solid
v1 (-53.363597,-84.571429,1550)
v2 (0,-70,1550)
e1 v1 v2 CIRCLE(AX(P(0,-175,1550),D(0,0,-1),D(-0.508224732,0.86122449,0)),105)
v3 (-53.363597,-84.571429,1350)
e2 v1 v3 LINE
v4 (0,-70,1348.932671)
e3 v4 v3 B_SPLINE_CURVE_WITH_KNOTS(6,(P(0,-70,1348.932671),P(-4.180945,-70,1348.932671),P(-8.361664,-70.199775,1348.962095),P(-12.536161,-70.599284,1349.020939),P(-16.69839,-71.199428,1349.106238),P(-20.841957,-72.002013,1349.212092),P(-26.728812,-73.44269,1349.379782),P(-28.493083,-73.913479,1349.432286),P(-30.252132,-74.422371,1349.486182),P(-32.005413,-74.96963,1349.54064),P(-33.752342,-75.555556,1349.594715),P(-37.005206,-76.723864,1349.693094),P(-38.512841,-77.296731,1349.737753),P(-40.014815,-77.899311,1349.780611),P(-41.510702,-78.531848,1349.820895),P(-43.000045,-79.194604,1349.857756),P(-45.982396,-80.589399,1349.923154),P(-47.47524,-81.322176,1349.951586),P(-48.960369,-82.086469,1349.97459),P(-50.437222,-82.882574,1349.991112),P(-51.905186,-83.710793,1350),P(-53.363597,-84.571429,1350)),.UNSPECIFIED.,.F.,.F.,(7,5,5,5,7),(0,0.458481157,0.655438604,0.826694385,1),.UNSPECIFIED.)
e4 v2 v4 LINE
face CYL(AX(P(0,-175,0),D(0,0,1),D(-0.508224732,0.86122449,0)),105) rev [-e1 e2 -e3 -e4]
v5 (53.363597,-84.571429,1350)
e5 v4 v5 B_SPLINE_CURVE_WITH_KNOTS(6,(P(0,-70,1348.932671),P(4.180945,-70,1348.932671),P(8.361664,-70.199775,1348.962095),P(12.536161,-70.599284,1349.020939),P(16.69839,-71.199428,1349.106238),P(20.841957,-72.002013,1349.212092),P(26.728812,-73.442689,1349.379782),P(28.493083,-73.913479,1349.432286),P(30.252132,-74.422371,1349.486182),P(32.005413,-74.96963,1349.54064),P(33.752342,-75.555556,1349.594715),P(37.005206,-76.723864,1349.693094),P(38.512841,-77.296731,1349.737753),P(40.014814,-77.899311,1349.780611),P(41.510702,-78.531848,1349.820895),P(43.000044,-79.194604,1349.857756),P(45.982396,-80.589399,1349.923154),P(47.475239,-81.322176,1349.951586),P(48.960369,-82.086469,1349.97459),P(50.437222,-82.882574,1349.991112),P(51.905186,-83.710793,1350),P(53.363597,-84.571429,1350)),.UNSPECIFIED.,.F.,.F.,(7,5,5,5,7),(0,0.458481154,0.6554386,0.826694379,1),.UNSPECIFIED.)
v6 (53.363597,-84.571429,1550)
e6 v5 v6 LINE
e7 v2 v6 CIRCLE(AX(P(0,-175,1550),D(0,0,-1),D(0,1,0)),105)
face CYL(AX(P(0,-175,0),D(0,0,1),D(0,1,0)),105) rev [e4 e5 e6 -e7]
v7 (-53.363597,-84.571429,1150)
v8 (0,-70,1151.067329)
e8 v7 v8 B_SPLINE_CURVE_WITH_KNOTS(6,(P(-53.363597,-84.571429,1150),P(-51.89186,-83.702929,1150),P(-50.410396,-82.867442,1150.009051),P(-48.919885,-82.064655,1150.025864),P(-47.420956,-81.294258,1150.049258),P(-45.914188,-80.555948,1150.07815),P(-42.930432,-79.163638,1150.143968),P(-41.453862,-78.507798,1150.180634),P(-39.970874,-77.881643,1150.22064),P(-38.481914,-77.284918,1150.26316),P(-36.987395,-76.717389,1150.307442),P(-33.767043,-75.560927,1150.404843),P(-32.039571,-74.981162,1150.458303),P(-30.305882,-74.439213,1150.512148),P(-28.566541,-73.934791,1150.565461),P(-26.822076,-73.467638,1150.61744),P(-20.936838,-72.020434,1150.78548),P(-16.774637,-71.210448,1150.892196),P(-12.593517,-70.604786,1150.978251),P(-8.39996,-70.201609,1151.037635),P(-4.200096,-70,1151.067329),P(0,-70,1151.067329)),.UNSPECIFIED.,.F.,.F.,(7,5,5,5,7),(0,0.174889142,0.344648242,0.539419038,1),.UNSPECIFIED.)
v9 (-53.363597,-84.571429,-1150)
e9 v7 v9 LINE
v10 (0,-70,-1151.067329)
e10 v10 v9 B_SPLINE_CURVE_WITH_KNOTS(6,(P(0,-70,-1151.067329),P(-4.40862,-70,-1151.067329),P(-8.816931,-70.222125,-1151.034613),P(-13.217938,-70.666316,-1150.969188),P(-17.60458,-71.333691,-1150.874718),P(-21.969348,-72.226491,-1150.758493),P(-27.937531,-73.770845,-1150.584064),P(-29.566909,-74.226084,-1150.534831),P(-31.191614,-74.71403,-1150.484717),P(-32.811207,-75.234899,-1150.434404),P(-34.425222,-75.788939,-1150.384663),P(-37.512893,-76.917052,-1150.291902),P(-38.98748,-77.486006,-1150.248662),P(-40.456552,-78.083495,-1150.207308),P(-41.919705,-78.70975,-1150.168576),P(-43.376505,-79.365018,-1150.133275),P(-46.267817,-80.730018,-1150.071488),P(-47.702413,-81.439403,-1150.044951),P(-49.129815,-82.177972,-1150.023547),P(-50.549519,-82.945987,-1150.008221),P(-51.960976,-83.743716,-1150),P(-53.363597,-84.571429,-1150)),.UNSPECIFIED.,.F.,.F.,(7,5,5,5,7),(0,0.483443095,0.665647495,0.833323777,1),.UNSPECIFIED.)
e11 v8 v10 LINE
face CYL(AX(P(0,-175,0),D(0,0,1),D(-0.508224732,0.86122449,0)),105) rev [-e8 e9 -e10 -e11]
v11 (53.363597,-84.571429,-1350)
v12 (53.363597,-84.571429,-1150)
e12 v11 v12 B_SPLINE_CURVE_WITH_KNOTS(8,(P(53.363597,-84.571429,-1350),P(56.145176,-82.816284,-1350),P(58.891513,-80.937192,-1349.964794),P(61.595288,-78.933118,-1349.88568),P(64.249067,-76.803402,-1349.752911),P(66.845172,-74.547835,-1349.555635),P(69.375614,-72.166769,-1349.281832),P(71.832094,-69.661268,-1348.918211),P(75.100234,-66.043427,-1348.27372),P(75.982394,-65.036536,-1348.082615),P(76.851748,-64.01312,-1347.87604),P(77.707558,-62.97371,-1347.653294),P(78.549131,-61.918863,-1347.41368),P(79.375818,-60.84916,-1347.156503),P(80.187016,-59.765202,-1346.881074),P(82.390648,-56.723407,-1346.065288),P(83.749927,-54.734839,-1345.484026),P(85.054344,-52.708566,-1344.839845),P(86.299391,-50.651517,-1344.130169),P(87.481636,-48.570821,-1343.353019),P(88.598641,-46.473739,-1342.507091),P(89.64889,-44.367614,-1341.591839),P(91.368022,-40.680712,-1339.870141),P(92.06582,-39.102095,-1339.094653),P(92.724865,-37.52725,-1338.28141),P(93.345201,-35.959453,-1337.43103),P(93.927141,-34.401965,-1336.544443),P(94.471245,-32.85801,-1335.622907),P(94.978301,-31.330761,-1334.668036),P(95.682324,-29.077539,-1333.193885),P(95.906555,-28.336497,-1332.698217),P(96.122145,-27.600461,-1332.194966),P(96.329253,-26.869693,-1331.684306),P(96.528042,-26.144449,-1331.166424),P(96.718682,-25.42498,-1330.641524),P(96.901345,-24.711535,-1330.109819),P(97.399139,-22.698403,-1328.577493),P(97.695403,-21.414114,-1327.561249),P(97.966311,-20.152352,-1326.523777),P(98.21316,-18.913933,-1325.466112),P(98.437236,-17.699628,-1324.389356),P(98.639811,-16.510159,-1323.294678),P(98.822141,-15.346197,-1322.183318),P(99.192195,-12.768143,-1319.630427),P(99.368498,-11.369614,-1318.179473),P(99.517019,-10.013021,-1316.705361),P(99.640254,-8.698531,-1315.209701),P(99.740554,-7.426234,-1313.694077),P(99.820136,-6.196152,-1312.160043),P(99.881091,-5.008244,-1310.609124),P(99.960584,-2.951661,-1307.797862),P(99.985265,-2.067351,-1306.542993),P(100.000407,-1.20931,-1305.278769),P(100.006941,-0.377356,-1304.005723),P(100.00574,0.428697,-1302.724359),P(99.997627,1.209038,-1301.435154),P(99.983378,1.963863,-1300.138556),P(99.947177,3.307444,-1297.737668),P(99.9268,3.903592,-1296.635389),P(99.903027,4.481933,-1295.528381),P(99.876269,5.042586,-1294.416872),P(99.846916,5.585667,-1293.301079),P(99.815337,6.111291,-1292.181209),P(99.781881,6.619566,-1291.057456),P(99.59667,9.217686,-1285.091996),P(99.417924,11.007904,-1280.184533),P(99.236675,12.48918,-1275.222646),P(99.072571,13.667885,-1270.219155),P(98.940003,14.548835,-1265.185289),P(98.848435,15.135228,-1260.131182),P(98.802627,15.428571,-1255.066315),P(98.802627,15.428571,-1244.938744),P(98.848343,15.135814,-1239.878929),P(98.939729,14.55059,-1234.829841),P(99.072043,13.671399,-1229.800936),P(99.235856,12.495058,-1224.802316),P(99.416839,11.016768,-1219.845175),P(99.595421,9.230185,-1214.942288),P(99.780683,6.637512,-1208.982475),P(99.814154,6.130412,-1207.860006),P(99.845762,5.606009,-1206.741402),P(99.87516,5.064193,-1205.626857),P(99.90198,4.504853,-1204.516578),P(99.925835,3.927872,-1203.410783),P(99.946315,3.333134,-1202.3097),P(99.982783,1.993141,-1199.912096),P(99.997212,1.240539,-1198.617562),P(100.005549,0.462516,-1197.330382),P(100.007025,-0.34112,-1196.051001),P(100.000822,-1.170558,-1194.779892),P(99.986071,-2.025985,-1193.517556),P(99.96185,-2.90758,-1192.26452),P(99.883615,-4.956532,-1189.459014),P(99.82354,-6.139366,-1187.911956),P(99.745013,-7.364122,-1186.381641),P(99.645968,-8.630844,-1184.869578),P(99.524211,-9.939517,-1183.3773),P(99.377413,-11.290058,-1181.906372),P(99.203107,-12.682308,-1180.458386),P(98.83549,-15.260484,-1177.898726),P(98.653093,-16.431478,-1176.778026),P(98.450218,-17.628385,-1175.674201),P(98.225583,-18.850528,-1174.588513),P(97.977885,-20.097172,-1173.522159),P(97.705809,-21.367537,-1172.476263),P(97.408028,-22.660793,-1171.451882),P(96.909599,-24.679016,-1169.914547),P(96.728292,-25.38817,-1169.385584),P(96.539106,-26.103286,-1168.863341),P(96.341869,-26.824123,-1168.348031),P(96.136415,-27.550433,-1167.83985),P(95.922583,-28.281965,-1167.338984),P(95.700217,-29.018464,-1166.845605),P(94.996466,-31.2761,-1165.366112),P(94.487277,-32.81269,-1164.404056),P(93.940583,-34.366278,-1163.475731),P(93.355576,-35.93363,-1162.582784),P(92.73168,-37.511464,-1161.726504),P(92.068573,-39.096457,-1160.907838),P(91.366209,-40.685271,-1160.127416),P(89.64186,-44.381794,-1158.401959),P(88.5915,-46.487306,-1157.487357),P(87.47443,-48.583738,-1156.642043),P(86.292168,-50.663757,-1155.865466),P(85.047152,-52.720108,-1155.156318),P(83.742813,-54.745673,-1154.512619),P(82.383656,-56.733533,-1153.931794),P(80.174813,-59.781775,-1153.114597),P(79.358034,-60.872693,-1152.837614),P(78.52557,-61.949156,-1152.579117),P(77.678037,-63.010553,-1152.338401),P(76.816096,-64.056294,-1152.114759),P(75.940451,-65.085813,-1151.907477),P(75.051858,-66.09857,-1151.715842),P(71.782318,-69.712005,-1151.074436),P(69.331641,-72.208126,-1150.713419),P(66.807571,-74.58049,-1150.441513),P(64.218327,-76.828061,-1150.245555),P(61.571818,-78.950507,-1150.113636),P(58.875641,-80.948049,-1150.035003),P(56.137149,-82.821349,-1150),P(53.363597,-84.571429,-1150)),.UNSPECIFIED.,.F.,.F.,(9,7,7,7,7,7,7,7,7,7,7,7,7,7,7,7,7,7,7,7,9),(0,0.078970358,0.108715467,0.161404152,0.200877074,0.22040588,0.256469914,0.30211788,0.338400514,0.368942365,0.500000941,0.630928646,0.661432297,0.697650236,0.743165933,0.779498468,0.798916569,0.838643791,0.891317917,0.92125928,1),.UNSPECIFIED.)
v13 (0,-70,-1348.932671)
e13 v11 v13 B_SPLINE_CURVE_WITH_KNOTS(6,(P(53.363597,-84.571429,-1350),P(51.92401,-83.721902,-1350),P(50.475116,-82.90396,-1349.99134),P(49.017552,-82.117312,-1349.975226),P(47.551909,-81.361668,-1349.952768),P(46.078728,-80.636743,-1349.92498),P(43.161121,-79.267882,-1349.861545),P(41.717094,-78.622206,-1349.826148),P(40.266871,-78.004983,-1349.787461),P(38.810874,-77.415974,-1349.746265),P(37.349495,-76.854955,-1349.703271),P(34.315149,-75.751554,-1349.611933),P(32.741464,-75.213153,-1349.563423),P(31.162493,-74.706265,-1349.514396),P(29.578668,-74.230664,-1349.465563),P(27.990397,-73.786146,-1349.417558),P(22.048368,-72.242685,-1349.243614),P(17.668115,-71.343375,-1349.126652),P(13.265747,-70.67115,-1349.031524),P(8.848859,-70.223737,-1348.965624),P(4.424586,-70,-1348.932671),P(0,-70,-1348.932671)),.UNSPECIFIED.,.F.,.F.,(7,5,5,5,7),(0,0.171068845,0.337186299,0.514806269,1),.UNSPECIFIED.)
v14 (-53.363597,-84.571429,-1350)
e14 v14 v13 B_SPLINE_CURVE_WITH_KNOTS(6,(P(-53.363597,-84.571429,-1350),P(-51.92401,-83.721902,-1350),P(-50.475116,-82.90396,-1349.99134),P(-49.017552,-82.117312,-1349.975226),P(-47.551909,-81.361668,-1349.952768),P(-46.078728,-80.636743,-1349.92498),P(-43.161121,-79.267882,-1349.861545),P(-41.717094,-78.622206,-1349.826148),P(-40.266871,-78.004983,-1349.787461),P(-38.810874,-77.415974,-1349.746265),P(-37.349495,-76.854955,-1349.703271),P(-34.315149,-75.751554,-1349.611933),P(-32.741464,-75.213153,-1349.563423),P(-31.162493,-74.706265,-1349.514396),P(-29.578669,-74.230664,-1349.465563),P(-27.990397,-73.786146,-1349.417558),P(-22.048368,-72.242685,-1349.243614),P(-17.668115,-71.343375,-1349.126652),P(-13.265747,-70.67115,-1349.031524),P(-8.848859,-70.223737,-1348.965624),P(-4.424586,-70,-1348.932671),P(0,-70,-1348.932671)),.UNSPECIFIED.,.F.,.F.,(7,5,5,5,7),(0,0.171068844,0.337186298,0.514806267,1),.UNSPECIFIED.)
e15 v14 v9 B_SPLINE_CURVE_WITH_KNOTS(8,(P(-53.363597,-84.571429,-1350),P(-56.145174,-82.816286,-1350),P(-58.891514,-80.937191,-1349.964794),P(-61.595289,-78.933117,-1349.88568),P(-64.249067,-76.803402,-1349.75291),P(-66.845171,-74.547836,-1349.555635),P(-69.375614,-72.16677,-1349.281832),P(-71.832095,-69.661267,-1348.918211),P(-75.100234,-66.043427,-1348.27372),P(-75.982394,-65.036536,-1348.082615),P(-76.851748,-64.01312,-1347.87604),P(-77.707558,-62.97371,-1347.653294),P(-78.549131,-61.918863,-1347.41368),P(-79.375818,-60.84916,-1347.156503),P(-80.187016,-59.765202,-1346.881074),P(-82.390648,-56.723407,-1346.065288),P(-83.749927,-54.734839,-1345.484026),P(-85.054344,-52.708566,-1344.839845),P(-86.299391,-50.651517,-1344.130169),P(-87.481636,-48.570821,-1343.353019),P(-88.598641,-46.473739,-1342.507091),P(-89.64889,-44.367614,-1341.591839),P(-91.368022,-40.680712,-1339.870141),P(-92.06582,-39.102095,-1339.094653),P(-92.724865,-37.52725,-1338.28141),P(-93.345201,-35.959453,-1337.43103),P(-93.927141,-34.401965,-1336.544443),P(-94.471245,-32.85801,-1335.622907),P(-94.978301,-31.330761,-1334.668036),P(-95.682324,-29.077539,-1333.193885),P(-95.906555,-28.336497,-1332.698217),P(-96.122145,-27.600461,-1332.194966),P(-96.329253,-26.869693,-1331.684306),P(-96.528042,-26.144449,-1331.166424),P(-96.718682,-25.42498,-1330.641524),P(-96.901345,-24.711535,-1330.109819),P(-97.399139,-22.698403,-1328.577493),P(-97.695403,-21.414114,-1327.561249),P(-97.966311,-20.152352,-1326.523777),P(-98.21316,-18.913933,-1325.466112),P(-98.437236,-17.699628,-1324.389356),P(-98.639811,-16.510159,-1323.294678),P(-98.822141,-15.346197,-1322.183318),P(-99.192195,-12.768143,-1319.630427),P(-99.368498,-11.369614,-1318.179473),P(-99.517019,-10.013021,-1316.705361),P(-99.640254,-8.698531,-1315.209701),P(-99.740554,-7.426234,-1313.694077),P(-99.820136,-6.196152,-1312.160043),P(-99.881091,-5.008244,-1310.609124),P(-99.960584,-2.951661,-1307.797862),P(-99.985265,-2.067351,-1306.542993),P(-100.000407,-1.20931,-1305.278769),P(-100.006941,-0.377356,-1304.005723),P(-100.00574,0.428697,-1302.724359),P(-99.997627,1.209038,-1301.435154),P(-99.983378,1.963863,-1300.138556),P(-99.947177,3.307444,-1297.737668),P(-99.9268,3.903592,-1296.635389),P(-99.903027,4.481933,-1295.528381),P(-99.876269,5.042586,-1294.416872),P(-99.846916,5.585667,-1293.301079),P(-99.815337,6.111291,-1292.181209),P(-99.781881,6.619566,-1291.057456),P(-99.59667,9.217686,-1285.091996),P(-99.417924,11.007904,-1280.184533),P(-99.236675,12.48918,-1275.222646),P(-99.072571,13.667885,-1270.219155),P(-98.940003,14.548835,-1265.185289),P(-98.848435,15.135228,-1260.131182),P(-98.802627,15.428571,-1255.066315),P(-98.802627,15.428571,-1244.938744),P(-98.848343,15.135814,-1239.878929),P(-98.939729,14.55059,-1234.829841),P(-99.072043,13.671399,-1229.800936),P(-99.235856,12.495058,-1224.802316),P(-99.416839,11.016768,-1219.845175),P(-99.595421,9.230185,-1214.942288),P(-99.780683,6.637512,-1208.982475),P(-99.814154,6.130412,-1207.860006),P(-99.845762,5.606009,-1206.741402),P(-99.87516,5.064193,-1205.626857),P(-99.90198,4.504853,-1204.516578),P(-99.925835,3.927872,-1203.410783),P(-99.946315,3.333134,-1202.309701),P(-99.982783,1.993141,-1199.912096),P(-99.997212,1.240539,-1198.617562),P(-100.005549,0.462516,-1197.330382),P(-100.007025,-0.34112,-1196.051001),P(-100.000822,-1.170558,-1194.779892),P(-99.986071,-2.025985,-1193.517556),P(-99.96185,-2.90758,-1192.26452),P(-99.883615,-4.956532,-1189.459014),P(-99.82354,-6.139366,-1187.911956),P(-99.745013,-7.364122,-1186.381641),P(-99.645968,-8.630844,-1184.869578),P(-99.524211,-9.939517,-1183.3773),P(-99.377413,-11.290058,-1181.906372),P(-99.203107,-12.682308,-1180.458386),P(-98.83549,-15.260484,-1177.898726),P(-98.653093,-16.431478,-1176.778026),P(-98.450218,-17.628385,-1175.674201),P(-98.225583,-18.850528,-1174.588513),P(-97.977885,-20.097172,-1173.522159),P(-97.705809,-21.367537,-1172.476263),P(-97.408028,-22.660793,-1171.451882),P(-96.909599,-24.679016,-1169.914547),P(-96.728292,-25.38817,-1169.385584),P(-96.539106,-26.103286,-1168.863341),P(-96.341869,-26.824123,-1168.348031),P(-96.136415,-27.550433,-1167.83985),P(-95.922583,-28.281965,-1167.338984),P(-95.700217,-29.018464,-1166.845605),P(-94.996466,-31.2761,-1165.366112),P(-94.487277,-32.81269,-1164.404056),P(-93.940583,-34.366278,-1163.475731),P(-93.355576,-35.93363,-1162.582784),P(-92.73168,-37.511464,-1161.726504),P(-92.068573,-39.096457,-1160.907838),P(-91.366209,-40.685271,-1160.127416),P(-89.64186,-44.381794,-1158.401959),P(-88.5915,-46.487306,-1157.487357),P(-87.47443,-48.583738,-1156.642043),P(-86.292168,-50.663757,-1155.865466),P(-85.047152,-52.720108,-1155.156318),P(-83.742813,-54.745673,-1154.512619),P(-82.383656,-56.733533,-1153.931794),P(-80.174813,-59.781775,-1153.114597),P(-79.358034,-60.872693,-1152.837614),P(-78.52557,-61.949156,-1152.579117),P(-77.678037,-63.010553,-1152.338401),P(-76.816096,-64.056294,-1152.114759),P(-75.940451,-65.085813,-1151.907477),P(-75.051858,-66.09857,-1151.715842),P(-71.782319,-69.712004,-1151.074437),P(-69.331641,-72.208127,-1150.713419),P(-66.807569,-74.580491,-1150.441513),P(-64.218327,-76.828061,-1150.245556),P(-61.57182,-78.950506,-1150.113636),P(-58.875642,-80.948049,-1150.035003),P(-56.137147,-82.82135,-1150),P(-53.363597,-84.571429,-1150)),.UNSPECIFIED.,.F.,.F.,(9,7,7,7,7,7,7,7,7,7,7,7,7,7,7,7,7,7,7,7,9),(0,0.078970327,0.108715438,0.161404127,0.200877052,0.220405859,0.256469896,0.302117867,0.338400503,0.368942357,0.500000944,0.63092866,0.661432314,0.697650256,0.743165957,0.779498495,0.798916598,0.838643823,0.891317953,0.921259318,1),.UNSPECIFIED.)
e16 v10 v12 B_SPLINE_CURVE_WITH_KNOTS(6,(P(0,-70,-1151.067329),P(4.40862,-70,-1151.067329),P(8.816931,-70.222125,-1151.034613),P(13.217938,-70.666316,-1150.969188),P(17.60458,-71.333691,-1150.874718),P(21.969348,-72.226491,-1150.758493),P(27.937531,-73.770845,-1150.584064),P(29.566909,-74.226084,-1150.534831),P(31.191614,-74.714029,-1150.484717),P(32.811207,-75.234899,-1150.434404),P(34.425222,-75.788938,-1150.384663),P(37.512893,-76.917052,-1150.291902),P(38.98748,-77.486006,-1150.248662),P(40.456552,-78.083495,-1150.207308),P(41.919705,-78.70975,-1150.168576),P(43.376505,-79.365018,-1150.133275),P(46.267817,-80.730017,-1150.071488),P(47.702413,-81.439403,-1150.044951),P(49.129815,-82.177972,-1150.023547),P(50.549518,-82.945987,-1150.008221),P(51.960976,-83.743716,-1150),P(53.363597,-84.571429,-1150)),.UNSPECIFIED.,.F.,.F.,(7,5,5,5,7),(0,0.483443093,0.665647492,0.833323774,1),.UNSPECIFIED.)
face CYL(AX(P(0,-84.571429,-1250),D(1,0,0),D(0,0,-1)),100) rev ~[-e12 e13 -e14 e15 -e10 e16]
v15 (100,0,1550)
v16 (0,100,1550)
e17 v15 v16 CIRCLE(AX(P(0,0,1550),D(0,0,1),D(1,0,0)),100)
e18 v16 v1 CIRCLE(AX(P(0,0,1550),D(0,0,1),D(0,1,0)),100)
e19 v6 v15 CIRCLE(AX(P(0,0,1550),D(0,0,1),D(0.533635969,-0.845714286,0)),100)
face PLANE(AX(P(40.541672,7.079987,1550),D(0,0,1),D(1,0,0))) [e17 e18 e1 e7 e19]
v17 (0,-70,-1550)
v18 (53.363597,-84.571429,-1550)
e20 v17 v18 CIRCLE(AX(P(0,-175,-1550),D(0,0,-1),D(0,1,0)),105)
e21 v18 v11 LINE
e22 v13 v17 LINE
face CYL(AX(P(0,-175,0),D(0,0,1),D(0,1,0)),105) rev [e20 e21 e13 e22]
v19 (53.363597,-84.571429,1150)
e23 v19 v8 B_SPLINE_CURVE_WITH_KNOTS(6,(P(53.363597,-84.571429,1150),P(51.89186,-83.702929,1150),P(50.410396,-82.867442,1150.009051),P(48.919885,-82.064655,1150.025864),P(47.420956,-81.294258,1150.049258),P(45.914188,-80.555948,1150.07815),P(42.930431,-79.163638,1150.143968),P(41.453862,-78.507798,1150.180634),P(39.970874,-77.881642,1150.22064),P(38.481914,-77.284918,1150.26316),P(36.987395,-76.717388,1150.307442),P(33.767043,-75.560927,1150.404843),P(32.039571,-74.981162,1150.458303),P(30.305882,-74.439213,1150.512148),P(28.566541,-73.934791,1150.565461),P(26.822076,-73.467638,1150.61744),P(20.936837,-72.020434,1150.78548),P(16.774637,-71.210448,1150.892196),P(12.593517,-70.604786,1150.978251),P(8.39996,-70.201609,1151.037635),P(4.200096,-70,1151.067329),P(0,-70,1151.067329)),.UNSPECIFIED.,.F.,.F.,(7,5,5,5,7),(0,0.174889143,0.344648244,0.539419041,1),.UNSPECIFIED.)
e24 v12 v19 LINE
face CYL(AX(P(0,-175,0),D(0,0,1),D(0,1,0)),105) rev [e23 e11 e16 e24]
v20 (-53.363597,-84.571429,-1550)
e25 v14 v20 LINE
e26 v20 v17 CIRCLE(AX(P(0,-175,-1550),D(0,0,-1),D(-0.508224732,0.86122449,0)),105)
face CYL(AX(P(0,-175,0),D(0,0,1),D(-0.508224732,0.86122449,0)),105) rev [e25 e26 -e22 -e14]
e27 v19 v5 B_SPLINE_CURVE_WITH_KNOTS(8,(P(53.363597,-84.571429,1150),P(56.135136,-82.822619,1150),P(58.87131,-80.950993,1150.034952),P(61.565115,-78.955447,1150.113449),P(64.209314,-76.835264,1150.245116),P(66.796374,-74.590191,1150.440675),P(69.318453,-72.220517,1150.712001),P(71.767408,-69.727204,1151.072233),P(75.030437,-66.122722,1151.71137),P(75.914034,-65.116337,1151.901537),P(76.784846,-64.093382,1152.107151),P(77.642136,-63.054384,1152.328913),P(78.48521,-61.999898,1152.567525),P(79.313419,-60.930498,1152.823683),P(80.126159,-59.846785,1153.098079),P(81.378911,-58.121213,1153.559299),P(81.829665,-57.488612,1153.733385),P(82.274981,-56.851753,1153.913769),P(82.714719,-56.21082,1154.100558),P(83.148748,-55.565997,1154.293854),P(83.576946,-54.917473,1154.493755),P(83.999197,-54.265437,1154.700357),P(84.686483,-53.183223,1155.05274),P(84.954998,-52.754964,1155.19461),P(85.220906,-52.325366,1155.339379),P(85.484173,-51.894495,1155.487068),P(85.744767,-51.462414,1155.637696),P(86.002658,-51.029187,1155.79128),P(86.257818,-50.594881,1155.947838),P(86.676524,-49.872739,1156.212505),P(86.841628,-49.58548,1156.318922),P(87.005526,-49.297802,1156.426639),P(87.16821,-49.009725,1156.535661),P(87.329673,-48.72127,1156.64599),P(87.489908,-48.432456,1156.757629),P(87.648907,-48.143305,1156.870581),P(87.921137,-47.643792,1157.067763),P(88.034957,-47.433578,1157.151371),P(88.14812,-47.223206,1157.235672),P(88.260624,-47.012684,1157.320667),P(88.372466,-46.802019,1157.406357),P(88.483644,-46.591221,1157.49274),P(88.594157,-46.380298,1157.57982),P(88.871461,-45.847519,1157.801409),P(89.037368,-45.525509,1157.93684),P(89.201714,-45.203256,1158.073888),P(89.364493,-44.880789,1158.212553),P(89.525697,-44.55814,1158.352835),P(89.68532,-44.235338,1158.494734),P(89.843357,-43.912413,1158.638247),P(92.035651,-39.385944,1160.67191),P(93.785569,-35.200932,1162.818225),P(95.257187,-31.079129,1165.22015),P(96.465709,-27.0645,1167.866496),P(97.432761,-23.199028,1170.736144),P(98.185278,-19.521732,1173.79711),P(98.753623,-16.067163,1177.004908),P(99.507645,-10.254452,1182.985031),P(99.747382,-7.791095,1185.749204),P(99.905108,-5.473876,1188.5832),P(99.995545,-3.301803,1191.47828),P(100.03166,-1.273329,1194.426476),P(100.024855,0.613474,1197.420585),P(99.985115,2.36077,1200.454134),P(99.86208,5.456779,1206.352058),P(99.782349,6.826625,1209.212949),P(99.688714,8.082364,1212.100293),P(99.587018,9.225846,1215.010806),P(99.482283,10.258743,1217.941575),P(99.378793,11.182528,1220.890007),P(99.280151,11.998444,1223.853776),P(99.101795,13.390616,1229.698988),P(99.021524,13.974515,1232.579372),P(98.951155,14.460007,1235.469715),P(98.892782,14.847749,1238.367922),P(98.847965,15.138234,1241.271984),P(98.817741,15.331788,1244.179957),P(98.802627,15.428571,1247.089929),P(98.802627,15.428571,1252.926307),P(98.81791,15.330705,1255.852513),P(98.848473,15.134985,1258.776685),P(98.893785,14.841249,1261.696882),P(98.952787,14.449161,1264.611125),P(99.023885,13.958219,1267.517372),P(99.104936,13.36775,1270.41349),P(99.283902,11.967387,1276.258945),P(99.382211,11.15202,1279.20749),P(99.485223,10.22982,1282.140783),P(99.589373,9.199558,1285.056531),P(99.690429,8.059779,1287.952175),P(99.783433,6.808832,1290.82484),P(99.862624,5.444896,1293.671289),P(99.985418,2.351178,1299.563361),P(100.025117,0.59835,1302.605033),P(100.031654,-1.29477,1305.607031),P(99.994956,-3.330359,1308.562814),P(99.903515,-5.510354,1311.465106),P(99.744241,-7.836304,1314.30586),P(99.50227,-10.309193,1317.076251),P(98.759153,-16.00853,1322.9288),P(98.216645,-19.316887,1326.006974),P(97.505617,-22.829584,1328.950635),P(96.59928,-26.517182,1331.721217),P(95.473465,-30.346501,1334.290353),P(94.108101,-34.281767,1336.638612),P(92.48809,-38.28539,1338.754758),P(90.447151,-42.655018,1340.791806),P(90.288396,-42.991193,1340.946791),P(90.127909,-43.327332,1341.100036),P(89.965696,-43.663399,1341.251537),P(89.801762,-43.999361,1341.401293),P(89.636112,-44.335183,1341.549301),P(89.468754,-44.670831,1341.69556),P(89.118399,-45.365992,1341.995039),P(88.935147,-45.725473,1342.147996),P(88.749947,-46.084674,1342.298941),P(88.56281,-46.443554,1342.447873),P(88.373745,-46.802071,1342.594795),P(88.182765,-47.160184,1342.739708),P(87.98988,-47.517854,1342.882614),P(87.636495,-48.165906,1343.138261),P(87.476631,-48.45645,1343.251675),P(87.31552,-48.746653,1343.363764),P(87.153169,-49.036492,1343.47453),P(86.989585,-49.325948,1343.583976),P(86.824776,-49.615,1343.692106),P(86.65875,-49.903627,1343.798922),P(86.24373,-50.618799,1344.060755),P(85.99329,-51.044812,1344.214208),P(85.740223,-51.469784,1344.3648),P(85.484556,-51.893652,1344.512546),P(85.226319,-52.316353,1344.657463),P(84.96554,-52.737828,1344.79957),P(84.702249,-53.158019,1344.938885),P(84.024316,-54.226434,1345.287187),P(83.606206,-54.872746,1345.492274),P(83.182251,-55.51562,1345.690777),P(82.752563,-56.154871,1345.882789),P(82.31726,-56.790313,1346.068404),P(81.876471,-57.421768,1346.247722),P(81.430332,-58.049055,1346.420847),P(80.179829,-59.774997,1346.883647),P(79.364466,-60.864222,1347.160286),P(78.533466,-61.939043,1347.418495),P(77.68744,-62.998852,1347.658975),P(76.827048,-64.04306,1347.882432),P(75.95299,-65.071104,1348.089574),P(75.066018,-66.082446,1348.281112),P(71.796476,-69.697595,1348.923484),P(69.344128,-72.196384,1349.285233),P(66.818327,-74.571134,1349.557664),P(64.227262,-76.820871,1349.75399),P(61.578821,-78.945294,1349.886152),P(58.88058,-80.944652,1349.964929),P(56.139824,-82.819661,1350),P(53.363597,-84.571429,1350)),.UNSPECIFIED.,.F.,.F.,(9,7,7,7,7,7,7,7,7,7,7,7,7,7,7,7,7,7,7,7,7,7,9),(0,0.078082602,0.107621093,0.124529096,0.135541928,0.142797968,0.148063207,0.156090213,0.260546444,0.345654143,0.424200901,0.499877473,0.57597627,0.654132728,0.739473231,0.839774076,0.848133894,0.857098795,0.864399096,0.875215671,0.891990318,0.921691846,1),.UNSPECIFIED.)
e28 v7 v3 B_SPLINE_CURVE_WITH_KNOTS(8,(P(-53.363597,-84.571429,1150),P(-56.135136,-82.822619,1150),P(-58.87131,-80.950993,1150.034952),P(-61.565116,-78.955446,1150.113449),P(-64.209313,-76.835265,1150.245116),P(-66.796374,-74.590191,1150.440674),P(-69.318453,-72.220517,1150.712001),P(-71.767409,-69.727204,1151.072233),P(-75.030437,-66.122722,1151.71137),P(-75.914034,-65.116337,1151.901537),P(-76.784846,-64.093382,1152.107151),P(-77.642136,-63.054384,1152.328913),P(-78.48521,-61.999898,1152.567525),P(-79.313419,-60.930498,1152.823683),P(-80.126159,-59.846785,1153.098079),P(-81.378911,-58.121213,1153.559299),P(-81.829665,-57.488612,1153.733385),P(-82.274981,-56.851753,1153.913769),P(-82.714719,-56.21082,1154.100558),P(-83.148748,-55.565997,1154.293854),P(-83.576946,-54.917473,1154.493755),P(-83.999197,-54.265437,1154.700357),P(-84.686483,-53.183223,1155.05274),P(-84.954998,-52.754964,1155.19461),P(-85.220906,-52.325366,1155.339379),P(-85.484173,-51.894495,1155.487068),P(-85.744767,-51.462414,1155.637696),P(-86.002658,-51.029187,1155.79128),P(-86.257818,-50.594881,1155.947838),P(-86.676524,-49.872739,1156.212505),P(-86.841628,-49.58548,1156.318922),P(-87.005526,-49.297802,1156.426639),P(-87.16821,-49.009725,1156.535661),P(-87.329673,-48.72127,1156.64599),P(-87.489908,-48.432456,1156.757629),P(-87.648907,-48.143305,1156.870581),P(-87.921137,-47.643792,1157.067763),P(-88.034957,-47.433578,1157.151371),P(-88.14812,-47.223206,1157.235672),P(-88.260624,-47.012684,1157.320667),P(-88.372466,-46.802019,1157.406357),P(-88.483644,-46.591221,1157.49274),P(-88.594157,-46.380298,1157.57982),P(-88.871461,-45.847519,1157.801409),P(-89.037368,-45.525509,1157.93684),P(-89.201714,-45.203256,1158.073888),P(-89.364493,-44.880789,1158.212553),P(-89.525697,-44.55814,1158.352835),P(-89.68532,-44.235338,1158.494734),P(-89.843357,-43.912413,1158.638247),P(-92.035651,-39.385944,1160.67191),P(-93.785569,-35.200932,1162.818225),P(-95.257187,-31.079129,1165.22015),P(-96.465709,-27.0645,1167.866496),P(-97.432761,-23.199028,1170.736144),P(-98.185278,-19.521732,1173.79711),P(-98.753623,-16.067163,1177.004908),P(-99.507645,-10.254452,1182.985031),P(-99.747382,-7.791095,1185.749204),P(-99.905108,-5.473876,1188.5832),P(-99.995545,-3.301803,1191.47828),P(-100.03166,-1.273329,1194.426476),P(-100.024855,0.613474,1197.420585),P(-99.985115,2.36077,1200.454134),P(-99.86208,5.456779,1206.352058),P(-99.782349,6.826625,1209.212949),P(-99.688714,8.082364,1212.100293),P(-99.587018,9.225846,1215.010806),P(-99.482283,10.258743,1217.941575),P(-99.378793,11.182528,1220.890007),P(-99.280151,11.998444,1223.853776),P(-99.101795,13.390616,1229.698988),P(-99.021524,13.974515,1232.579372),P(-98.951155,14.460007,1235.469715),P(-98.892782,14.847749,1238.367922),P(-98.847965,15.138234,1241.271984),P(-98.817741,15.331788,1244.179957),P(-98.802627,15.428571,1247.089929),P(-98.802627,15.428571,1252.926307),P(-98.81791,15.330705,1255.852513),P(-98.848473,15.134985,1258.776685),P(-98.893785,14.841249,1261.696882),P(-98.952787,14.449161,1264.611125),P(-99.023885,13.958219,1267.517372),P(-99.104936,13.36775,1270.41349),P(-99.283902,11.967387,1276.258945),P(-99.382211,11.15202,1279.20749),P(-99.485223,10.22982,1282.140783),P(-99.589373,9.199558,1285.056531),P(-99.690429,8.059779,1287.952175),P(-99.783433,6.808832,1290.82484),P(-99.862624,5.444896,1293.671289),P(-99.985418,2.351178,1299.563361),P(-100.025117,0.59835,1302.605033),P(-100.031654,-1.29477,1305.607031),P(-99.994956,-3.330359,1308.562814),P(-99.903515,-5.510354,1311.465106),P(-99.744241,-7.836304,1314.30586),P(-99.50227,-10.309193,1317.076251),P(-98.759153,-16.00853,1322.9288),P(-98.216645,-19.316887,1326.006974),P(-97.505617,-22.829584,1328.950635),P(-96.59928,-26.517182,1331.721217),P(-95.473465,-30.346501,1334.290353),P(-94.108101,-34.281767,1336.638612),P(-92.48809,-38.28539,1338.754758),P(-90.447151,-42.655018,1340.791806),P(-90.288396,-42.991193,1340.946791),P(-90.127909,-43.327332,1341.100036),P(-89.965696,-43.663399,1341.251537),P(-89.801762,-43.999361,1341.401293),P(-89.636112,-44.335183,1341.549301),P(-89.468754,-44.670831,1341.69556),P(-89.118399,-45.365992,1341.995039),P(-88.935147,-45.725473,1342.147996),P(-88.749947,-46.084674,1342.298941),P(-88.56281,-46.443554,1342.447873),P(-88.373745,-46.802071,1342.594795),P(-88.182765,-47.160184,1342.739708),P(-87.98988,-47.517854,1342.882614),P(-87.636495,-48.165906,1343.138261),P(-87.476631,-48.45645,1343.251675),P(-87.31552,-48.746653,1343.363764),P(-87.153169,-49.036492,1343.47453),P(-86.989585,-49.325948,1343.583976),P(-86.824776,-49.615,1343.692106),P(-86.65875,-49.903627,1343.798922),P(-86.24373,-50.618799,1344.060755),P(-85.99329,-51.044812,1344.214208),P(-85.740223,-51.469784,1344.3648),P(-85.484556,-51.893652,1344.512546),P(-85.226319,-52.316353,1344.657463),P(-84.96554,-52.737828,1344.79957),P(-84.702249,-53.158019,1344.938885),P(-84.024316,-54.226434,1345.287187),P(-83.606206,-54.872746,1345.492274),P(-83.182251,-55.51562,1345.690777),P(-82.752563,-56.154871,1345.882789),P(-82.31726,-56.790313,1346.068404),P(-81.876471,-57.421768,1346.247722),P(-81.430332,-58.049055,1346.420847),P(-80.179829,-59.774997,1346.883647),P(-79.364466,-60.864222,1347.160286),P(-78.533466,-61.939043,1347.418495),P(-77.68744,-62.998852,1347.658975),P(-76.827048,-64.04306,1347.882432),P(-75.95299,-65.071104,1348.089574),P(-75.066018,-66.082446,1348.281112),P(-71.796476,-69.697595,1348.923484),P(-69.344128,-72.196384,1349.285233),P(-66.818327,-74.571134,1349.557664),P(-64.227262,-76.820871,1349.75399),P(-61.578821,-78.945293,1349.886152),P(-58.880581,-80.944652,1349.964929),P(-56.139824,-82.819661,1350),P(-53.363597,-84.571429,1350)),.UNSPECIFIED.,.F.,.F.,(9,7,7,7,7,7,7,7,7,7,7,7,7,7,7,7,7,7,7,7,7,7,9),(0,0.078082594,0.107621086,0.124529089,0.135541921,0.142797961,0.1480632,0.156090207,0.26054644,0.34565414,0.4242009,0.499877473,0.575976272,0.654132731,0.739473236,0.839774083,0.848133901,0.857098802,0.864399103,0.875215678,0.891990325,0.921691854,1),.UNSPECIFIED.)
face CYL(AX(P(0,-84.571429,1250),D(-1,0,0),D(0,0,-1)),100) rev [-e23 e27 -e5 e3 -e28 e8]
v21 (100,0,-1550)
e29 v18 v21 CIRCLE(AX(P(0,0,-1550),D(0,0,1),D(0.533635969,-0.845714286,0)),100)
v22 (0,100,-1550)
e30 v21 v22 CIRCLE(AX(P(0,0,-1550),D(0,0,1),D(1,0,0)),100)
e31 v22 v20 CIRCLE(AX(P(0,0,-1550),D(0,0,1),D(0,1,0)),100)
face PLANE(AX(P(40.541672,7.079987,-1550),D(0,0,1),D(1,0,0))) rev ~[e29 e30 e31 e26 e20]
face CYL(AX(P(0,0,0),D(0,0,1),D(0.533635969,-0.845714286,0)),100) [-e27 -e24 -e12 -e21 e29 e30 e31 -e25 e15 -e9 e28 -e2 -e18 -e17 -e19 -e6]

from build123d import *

# Parameters (mm, degrees)
EXTRUDE_1_DEPTH     = 1550
SKETCH_2_R          = 100
CUT_EXTRUDE_1_DEPTH = 3000


with BuildPart() as part:
    # Эскиз1 → Бобышка-Вытянуть1 (new, symmetric)
    with BuildSketch(Plane.XY):
        with BuildLine():
            ThreePointArc((100, 0), (70.710678119, 70.710678119), (0, 100))
            Line((0, 100), (0, -70))
            ThreePointArc((0, -70), (27.658633372, -73.708341903), (53.363596856, -84.571428571))
            ThreePointArc((53.363596856, -84.571428571), (87.568143995, -48.288923753), (100, 0))
        make_face()
        with BuildLine():
            Line((0, -70), (0, 100))
            ThreePointArc((0, 100), (-96.065453877, 27.774602993), (-53.363596856, -84.571428571))
            ThreePointArc((-53.363596856, -84.571428571), (-27.658633372, -73.708341903), (0, -70))
        make_face()
        with BuildLine():
            ThreePointArc((100, 0), (70.710678119, 70.710678119), (0, 100))
            Line((0, 100), (0, -70))
            ThreePointArc((0, -70), (27.658633372, -73.708341903), (53.363596856, -84.571428571))
            ThreePointArc((53.363596856, -84.571428571), (87.568143995, -48.288923753), (100, 0))
        make_face()
        with BuildLine():
            Line((0, -70), (0, 100))
            ThreePointArc((0, 100), (-96.065453877, 27.774602993), (-53.363596856, -84.571428571))
            ThreePointArc((-53.363596856, -84.571428571), (-27.658633372, -73.708341903), (0, -70))
        make_face()
    extrude(amount=EXTRUDE_1_DEPTH, both=True)

    # Эскиз2 → Вырез-Вытянуть1 (cut, symmetric)
    with BuildSketch(Plane(origin=(0, 0, 0), x_dir=(0, 0, -1), z_dir=(1, 0, 0))):
        with Locations((-1250, -84.571428571)):
            Circle(SKETCH_2_R)
        with Locations((1250, -84.571428571)):
            Circle(SKETCH_2_R)
    extrude(amount=CUT_EXTRUDE_1_DEPTH, both=True, mode=Mode.SUBTRACT)


solid = part.part
